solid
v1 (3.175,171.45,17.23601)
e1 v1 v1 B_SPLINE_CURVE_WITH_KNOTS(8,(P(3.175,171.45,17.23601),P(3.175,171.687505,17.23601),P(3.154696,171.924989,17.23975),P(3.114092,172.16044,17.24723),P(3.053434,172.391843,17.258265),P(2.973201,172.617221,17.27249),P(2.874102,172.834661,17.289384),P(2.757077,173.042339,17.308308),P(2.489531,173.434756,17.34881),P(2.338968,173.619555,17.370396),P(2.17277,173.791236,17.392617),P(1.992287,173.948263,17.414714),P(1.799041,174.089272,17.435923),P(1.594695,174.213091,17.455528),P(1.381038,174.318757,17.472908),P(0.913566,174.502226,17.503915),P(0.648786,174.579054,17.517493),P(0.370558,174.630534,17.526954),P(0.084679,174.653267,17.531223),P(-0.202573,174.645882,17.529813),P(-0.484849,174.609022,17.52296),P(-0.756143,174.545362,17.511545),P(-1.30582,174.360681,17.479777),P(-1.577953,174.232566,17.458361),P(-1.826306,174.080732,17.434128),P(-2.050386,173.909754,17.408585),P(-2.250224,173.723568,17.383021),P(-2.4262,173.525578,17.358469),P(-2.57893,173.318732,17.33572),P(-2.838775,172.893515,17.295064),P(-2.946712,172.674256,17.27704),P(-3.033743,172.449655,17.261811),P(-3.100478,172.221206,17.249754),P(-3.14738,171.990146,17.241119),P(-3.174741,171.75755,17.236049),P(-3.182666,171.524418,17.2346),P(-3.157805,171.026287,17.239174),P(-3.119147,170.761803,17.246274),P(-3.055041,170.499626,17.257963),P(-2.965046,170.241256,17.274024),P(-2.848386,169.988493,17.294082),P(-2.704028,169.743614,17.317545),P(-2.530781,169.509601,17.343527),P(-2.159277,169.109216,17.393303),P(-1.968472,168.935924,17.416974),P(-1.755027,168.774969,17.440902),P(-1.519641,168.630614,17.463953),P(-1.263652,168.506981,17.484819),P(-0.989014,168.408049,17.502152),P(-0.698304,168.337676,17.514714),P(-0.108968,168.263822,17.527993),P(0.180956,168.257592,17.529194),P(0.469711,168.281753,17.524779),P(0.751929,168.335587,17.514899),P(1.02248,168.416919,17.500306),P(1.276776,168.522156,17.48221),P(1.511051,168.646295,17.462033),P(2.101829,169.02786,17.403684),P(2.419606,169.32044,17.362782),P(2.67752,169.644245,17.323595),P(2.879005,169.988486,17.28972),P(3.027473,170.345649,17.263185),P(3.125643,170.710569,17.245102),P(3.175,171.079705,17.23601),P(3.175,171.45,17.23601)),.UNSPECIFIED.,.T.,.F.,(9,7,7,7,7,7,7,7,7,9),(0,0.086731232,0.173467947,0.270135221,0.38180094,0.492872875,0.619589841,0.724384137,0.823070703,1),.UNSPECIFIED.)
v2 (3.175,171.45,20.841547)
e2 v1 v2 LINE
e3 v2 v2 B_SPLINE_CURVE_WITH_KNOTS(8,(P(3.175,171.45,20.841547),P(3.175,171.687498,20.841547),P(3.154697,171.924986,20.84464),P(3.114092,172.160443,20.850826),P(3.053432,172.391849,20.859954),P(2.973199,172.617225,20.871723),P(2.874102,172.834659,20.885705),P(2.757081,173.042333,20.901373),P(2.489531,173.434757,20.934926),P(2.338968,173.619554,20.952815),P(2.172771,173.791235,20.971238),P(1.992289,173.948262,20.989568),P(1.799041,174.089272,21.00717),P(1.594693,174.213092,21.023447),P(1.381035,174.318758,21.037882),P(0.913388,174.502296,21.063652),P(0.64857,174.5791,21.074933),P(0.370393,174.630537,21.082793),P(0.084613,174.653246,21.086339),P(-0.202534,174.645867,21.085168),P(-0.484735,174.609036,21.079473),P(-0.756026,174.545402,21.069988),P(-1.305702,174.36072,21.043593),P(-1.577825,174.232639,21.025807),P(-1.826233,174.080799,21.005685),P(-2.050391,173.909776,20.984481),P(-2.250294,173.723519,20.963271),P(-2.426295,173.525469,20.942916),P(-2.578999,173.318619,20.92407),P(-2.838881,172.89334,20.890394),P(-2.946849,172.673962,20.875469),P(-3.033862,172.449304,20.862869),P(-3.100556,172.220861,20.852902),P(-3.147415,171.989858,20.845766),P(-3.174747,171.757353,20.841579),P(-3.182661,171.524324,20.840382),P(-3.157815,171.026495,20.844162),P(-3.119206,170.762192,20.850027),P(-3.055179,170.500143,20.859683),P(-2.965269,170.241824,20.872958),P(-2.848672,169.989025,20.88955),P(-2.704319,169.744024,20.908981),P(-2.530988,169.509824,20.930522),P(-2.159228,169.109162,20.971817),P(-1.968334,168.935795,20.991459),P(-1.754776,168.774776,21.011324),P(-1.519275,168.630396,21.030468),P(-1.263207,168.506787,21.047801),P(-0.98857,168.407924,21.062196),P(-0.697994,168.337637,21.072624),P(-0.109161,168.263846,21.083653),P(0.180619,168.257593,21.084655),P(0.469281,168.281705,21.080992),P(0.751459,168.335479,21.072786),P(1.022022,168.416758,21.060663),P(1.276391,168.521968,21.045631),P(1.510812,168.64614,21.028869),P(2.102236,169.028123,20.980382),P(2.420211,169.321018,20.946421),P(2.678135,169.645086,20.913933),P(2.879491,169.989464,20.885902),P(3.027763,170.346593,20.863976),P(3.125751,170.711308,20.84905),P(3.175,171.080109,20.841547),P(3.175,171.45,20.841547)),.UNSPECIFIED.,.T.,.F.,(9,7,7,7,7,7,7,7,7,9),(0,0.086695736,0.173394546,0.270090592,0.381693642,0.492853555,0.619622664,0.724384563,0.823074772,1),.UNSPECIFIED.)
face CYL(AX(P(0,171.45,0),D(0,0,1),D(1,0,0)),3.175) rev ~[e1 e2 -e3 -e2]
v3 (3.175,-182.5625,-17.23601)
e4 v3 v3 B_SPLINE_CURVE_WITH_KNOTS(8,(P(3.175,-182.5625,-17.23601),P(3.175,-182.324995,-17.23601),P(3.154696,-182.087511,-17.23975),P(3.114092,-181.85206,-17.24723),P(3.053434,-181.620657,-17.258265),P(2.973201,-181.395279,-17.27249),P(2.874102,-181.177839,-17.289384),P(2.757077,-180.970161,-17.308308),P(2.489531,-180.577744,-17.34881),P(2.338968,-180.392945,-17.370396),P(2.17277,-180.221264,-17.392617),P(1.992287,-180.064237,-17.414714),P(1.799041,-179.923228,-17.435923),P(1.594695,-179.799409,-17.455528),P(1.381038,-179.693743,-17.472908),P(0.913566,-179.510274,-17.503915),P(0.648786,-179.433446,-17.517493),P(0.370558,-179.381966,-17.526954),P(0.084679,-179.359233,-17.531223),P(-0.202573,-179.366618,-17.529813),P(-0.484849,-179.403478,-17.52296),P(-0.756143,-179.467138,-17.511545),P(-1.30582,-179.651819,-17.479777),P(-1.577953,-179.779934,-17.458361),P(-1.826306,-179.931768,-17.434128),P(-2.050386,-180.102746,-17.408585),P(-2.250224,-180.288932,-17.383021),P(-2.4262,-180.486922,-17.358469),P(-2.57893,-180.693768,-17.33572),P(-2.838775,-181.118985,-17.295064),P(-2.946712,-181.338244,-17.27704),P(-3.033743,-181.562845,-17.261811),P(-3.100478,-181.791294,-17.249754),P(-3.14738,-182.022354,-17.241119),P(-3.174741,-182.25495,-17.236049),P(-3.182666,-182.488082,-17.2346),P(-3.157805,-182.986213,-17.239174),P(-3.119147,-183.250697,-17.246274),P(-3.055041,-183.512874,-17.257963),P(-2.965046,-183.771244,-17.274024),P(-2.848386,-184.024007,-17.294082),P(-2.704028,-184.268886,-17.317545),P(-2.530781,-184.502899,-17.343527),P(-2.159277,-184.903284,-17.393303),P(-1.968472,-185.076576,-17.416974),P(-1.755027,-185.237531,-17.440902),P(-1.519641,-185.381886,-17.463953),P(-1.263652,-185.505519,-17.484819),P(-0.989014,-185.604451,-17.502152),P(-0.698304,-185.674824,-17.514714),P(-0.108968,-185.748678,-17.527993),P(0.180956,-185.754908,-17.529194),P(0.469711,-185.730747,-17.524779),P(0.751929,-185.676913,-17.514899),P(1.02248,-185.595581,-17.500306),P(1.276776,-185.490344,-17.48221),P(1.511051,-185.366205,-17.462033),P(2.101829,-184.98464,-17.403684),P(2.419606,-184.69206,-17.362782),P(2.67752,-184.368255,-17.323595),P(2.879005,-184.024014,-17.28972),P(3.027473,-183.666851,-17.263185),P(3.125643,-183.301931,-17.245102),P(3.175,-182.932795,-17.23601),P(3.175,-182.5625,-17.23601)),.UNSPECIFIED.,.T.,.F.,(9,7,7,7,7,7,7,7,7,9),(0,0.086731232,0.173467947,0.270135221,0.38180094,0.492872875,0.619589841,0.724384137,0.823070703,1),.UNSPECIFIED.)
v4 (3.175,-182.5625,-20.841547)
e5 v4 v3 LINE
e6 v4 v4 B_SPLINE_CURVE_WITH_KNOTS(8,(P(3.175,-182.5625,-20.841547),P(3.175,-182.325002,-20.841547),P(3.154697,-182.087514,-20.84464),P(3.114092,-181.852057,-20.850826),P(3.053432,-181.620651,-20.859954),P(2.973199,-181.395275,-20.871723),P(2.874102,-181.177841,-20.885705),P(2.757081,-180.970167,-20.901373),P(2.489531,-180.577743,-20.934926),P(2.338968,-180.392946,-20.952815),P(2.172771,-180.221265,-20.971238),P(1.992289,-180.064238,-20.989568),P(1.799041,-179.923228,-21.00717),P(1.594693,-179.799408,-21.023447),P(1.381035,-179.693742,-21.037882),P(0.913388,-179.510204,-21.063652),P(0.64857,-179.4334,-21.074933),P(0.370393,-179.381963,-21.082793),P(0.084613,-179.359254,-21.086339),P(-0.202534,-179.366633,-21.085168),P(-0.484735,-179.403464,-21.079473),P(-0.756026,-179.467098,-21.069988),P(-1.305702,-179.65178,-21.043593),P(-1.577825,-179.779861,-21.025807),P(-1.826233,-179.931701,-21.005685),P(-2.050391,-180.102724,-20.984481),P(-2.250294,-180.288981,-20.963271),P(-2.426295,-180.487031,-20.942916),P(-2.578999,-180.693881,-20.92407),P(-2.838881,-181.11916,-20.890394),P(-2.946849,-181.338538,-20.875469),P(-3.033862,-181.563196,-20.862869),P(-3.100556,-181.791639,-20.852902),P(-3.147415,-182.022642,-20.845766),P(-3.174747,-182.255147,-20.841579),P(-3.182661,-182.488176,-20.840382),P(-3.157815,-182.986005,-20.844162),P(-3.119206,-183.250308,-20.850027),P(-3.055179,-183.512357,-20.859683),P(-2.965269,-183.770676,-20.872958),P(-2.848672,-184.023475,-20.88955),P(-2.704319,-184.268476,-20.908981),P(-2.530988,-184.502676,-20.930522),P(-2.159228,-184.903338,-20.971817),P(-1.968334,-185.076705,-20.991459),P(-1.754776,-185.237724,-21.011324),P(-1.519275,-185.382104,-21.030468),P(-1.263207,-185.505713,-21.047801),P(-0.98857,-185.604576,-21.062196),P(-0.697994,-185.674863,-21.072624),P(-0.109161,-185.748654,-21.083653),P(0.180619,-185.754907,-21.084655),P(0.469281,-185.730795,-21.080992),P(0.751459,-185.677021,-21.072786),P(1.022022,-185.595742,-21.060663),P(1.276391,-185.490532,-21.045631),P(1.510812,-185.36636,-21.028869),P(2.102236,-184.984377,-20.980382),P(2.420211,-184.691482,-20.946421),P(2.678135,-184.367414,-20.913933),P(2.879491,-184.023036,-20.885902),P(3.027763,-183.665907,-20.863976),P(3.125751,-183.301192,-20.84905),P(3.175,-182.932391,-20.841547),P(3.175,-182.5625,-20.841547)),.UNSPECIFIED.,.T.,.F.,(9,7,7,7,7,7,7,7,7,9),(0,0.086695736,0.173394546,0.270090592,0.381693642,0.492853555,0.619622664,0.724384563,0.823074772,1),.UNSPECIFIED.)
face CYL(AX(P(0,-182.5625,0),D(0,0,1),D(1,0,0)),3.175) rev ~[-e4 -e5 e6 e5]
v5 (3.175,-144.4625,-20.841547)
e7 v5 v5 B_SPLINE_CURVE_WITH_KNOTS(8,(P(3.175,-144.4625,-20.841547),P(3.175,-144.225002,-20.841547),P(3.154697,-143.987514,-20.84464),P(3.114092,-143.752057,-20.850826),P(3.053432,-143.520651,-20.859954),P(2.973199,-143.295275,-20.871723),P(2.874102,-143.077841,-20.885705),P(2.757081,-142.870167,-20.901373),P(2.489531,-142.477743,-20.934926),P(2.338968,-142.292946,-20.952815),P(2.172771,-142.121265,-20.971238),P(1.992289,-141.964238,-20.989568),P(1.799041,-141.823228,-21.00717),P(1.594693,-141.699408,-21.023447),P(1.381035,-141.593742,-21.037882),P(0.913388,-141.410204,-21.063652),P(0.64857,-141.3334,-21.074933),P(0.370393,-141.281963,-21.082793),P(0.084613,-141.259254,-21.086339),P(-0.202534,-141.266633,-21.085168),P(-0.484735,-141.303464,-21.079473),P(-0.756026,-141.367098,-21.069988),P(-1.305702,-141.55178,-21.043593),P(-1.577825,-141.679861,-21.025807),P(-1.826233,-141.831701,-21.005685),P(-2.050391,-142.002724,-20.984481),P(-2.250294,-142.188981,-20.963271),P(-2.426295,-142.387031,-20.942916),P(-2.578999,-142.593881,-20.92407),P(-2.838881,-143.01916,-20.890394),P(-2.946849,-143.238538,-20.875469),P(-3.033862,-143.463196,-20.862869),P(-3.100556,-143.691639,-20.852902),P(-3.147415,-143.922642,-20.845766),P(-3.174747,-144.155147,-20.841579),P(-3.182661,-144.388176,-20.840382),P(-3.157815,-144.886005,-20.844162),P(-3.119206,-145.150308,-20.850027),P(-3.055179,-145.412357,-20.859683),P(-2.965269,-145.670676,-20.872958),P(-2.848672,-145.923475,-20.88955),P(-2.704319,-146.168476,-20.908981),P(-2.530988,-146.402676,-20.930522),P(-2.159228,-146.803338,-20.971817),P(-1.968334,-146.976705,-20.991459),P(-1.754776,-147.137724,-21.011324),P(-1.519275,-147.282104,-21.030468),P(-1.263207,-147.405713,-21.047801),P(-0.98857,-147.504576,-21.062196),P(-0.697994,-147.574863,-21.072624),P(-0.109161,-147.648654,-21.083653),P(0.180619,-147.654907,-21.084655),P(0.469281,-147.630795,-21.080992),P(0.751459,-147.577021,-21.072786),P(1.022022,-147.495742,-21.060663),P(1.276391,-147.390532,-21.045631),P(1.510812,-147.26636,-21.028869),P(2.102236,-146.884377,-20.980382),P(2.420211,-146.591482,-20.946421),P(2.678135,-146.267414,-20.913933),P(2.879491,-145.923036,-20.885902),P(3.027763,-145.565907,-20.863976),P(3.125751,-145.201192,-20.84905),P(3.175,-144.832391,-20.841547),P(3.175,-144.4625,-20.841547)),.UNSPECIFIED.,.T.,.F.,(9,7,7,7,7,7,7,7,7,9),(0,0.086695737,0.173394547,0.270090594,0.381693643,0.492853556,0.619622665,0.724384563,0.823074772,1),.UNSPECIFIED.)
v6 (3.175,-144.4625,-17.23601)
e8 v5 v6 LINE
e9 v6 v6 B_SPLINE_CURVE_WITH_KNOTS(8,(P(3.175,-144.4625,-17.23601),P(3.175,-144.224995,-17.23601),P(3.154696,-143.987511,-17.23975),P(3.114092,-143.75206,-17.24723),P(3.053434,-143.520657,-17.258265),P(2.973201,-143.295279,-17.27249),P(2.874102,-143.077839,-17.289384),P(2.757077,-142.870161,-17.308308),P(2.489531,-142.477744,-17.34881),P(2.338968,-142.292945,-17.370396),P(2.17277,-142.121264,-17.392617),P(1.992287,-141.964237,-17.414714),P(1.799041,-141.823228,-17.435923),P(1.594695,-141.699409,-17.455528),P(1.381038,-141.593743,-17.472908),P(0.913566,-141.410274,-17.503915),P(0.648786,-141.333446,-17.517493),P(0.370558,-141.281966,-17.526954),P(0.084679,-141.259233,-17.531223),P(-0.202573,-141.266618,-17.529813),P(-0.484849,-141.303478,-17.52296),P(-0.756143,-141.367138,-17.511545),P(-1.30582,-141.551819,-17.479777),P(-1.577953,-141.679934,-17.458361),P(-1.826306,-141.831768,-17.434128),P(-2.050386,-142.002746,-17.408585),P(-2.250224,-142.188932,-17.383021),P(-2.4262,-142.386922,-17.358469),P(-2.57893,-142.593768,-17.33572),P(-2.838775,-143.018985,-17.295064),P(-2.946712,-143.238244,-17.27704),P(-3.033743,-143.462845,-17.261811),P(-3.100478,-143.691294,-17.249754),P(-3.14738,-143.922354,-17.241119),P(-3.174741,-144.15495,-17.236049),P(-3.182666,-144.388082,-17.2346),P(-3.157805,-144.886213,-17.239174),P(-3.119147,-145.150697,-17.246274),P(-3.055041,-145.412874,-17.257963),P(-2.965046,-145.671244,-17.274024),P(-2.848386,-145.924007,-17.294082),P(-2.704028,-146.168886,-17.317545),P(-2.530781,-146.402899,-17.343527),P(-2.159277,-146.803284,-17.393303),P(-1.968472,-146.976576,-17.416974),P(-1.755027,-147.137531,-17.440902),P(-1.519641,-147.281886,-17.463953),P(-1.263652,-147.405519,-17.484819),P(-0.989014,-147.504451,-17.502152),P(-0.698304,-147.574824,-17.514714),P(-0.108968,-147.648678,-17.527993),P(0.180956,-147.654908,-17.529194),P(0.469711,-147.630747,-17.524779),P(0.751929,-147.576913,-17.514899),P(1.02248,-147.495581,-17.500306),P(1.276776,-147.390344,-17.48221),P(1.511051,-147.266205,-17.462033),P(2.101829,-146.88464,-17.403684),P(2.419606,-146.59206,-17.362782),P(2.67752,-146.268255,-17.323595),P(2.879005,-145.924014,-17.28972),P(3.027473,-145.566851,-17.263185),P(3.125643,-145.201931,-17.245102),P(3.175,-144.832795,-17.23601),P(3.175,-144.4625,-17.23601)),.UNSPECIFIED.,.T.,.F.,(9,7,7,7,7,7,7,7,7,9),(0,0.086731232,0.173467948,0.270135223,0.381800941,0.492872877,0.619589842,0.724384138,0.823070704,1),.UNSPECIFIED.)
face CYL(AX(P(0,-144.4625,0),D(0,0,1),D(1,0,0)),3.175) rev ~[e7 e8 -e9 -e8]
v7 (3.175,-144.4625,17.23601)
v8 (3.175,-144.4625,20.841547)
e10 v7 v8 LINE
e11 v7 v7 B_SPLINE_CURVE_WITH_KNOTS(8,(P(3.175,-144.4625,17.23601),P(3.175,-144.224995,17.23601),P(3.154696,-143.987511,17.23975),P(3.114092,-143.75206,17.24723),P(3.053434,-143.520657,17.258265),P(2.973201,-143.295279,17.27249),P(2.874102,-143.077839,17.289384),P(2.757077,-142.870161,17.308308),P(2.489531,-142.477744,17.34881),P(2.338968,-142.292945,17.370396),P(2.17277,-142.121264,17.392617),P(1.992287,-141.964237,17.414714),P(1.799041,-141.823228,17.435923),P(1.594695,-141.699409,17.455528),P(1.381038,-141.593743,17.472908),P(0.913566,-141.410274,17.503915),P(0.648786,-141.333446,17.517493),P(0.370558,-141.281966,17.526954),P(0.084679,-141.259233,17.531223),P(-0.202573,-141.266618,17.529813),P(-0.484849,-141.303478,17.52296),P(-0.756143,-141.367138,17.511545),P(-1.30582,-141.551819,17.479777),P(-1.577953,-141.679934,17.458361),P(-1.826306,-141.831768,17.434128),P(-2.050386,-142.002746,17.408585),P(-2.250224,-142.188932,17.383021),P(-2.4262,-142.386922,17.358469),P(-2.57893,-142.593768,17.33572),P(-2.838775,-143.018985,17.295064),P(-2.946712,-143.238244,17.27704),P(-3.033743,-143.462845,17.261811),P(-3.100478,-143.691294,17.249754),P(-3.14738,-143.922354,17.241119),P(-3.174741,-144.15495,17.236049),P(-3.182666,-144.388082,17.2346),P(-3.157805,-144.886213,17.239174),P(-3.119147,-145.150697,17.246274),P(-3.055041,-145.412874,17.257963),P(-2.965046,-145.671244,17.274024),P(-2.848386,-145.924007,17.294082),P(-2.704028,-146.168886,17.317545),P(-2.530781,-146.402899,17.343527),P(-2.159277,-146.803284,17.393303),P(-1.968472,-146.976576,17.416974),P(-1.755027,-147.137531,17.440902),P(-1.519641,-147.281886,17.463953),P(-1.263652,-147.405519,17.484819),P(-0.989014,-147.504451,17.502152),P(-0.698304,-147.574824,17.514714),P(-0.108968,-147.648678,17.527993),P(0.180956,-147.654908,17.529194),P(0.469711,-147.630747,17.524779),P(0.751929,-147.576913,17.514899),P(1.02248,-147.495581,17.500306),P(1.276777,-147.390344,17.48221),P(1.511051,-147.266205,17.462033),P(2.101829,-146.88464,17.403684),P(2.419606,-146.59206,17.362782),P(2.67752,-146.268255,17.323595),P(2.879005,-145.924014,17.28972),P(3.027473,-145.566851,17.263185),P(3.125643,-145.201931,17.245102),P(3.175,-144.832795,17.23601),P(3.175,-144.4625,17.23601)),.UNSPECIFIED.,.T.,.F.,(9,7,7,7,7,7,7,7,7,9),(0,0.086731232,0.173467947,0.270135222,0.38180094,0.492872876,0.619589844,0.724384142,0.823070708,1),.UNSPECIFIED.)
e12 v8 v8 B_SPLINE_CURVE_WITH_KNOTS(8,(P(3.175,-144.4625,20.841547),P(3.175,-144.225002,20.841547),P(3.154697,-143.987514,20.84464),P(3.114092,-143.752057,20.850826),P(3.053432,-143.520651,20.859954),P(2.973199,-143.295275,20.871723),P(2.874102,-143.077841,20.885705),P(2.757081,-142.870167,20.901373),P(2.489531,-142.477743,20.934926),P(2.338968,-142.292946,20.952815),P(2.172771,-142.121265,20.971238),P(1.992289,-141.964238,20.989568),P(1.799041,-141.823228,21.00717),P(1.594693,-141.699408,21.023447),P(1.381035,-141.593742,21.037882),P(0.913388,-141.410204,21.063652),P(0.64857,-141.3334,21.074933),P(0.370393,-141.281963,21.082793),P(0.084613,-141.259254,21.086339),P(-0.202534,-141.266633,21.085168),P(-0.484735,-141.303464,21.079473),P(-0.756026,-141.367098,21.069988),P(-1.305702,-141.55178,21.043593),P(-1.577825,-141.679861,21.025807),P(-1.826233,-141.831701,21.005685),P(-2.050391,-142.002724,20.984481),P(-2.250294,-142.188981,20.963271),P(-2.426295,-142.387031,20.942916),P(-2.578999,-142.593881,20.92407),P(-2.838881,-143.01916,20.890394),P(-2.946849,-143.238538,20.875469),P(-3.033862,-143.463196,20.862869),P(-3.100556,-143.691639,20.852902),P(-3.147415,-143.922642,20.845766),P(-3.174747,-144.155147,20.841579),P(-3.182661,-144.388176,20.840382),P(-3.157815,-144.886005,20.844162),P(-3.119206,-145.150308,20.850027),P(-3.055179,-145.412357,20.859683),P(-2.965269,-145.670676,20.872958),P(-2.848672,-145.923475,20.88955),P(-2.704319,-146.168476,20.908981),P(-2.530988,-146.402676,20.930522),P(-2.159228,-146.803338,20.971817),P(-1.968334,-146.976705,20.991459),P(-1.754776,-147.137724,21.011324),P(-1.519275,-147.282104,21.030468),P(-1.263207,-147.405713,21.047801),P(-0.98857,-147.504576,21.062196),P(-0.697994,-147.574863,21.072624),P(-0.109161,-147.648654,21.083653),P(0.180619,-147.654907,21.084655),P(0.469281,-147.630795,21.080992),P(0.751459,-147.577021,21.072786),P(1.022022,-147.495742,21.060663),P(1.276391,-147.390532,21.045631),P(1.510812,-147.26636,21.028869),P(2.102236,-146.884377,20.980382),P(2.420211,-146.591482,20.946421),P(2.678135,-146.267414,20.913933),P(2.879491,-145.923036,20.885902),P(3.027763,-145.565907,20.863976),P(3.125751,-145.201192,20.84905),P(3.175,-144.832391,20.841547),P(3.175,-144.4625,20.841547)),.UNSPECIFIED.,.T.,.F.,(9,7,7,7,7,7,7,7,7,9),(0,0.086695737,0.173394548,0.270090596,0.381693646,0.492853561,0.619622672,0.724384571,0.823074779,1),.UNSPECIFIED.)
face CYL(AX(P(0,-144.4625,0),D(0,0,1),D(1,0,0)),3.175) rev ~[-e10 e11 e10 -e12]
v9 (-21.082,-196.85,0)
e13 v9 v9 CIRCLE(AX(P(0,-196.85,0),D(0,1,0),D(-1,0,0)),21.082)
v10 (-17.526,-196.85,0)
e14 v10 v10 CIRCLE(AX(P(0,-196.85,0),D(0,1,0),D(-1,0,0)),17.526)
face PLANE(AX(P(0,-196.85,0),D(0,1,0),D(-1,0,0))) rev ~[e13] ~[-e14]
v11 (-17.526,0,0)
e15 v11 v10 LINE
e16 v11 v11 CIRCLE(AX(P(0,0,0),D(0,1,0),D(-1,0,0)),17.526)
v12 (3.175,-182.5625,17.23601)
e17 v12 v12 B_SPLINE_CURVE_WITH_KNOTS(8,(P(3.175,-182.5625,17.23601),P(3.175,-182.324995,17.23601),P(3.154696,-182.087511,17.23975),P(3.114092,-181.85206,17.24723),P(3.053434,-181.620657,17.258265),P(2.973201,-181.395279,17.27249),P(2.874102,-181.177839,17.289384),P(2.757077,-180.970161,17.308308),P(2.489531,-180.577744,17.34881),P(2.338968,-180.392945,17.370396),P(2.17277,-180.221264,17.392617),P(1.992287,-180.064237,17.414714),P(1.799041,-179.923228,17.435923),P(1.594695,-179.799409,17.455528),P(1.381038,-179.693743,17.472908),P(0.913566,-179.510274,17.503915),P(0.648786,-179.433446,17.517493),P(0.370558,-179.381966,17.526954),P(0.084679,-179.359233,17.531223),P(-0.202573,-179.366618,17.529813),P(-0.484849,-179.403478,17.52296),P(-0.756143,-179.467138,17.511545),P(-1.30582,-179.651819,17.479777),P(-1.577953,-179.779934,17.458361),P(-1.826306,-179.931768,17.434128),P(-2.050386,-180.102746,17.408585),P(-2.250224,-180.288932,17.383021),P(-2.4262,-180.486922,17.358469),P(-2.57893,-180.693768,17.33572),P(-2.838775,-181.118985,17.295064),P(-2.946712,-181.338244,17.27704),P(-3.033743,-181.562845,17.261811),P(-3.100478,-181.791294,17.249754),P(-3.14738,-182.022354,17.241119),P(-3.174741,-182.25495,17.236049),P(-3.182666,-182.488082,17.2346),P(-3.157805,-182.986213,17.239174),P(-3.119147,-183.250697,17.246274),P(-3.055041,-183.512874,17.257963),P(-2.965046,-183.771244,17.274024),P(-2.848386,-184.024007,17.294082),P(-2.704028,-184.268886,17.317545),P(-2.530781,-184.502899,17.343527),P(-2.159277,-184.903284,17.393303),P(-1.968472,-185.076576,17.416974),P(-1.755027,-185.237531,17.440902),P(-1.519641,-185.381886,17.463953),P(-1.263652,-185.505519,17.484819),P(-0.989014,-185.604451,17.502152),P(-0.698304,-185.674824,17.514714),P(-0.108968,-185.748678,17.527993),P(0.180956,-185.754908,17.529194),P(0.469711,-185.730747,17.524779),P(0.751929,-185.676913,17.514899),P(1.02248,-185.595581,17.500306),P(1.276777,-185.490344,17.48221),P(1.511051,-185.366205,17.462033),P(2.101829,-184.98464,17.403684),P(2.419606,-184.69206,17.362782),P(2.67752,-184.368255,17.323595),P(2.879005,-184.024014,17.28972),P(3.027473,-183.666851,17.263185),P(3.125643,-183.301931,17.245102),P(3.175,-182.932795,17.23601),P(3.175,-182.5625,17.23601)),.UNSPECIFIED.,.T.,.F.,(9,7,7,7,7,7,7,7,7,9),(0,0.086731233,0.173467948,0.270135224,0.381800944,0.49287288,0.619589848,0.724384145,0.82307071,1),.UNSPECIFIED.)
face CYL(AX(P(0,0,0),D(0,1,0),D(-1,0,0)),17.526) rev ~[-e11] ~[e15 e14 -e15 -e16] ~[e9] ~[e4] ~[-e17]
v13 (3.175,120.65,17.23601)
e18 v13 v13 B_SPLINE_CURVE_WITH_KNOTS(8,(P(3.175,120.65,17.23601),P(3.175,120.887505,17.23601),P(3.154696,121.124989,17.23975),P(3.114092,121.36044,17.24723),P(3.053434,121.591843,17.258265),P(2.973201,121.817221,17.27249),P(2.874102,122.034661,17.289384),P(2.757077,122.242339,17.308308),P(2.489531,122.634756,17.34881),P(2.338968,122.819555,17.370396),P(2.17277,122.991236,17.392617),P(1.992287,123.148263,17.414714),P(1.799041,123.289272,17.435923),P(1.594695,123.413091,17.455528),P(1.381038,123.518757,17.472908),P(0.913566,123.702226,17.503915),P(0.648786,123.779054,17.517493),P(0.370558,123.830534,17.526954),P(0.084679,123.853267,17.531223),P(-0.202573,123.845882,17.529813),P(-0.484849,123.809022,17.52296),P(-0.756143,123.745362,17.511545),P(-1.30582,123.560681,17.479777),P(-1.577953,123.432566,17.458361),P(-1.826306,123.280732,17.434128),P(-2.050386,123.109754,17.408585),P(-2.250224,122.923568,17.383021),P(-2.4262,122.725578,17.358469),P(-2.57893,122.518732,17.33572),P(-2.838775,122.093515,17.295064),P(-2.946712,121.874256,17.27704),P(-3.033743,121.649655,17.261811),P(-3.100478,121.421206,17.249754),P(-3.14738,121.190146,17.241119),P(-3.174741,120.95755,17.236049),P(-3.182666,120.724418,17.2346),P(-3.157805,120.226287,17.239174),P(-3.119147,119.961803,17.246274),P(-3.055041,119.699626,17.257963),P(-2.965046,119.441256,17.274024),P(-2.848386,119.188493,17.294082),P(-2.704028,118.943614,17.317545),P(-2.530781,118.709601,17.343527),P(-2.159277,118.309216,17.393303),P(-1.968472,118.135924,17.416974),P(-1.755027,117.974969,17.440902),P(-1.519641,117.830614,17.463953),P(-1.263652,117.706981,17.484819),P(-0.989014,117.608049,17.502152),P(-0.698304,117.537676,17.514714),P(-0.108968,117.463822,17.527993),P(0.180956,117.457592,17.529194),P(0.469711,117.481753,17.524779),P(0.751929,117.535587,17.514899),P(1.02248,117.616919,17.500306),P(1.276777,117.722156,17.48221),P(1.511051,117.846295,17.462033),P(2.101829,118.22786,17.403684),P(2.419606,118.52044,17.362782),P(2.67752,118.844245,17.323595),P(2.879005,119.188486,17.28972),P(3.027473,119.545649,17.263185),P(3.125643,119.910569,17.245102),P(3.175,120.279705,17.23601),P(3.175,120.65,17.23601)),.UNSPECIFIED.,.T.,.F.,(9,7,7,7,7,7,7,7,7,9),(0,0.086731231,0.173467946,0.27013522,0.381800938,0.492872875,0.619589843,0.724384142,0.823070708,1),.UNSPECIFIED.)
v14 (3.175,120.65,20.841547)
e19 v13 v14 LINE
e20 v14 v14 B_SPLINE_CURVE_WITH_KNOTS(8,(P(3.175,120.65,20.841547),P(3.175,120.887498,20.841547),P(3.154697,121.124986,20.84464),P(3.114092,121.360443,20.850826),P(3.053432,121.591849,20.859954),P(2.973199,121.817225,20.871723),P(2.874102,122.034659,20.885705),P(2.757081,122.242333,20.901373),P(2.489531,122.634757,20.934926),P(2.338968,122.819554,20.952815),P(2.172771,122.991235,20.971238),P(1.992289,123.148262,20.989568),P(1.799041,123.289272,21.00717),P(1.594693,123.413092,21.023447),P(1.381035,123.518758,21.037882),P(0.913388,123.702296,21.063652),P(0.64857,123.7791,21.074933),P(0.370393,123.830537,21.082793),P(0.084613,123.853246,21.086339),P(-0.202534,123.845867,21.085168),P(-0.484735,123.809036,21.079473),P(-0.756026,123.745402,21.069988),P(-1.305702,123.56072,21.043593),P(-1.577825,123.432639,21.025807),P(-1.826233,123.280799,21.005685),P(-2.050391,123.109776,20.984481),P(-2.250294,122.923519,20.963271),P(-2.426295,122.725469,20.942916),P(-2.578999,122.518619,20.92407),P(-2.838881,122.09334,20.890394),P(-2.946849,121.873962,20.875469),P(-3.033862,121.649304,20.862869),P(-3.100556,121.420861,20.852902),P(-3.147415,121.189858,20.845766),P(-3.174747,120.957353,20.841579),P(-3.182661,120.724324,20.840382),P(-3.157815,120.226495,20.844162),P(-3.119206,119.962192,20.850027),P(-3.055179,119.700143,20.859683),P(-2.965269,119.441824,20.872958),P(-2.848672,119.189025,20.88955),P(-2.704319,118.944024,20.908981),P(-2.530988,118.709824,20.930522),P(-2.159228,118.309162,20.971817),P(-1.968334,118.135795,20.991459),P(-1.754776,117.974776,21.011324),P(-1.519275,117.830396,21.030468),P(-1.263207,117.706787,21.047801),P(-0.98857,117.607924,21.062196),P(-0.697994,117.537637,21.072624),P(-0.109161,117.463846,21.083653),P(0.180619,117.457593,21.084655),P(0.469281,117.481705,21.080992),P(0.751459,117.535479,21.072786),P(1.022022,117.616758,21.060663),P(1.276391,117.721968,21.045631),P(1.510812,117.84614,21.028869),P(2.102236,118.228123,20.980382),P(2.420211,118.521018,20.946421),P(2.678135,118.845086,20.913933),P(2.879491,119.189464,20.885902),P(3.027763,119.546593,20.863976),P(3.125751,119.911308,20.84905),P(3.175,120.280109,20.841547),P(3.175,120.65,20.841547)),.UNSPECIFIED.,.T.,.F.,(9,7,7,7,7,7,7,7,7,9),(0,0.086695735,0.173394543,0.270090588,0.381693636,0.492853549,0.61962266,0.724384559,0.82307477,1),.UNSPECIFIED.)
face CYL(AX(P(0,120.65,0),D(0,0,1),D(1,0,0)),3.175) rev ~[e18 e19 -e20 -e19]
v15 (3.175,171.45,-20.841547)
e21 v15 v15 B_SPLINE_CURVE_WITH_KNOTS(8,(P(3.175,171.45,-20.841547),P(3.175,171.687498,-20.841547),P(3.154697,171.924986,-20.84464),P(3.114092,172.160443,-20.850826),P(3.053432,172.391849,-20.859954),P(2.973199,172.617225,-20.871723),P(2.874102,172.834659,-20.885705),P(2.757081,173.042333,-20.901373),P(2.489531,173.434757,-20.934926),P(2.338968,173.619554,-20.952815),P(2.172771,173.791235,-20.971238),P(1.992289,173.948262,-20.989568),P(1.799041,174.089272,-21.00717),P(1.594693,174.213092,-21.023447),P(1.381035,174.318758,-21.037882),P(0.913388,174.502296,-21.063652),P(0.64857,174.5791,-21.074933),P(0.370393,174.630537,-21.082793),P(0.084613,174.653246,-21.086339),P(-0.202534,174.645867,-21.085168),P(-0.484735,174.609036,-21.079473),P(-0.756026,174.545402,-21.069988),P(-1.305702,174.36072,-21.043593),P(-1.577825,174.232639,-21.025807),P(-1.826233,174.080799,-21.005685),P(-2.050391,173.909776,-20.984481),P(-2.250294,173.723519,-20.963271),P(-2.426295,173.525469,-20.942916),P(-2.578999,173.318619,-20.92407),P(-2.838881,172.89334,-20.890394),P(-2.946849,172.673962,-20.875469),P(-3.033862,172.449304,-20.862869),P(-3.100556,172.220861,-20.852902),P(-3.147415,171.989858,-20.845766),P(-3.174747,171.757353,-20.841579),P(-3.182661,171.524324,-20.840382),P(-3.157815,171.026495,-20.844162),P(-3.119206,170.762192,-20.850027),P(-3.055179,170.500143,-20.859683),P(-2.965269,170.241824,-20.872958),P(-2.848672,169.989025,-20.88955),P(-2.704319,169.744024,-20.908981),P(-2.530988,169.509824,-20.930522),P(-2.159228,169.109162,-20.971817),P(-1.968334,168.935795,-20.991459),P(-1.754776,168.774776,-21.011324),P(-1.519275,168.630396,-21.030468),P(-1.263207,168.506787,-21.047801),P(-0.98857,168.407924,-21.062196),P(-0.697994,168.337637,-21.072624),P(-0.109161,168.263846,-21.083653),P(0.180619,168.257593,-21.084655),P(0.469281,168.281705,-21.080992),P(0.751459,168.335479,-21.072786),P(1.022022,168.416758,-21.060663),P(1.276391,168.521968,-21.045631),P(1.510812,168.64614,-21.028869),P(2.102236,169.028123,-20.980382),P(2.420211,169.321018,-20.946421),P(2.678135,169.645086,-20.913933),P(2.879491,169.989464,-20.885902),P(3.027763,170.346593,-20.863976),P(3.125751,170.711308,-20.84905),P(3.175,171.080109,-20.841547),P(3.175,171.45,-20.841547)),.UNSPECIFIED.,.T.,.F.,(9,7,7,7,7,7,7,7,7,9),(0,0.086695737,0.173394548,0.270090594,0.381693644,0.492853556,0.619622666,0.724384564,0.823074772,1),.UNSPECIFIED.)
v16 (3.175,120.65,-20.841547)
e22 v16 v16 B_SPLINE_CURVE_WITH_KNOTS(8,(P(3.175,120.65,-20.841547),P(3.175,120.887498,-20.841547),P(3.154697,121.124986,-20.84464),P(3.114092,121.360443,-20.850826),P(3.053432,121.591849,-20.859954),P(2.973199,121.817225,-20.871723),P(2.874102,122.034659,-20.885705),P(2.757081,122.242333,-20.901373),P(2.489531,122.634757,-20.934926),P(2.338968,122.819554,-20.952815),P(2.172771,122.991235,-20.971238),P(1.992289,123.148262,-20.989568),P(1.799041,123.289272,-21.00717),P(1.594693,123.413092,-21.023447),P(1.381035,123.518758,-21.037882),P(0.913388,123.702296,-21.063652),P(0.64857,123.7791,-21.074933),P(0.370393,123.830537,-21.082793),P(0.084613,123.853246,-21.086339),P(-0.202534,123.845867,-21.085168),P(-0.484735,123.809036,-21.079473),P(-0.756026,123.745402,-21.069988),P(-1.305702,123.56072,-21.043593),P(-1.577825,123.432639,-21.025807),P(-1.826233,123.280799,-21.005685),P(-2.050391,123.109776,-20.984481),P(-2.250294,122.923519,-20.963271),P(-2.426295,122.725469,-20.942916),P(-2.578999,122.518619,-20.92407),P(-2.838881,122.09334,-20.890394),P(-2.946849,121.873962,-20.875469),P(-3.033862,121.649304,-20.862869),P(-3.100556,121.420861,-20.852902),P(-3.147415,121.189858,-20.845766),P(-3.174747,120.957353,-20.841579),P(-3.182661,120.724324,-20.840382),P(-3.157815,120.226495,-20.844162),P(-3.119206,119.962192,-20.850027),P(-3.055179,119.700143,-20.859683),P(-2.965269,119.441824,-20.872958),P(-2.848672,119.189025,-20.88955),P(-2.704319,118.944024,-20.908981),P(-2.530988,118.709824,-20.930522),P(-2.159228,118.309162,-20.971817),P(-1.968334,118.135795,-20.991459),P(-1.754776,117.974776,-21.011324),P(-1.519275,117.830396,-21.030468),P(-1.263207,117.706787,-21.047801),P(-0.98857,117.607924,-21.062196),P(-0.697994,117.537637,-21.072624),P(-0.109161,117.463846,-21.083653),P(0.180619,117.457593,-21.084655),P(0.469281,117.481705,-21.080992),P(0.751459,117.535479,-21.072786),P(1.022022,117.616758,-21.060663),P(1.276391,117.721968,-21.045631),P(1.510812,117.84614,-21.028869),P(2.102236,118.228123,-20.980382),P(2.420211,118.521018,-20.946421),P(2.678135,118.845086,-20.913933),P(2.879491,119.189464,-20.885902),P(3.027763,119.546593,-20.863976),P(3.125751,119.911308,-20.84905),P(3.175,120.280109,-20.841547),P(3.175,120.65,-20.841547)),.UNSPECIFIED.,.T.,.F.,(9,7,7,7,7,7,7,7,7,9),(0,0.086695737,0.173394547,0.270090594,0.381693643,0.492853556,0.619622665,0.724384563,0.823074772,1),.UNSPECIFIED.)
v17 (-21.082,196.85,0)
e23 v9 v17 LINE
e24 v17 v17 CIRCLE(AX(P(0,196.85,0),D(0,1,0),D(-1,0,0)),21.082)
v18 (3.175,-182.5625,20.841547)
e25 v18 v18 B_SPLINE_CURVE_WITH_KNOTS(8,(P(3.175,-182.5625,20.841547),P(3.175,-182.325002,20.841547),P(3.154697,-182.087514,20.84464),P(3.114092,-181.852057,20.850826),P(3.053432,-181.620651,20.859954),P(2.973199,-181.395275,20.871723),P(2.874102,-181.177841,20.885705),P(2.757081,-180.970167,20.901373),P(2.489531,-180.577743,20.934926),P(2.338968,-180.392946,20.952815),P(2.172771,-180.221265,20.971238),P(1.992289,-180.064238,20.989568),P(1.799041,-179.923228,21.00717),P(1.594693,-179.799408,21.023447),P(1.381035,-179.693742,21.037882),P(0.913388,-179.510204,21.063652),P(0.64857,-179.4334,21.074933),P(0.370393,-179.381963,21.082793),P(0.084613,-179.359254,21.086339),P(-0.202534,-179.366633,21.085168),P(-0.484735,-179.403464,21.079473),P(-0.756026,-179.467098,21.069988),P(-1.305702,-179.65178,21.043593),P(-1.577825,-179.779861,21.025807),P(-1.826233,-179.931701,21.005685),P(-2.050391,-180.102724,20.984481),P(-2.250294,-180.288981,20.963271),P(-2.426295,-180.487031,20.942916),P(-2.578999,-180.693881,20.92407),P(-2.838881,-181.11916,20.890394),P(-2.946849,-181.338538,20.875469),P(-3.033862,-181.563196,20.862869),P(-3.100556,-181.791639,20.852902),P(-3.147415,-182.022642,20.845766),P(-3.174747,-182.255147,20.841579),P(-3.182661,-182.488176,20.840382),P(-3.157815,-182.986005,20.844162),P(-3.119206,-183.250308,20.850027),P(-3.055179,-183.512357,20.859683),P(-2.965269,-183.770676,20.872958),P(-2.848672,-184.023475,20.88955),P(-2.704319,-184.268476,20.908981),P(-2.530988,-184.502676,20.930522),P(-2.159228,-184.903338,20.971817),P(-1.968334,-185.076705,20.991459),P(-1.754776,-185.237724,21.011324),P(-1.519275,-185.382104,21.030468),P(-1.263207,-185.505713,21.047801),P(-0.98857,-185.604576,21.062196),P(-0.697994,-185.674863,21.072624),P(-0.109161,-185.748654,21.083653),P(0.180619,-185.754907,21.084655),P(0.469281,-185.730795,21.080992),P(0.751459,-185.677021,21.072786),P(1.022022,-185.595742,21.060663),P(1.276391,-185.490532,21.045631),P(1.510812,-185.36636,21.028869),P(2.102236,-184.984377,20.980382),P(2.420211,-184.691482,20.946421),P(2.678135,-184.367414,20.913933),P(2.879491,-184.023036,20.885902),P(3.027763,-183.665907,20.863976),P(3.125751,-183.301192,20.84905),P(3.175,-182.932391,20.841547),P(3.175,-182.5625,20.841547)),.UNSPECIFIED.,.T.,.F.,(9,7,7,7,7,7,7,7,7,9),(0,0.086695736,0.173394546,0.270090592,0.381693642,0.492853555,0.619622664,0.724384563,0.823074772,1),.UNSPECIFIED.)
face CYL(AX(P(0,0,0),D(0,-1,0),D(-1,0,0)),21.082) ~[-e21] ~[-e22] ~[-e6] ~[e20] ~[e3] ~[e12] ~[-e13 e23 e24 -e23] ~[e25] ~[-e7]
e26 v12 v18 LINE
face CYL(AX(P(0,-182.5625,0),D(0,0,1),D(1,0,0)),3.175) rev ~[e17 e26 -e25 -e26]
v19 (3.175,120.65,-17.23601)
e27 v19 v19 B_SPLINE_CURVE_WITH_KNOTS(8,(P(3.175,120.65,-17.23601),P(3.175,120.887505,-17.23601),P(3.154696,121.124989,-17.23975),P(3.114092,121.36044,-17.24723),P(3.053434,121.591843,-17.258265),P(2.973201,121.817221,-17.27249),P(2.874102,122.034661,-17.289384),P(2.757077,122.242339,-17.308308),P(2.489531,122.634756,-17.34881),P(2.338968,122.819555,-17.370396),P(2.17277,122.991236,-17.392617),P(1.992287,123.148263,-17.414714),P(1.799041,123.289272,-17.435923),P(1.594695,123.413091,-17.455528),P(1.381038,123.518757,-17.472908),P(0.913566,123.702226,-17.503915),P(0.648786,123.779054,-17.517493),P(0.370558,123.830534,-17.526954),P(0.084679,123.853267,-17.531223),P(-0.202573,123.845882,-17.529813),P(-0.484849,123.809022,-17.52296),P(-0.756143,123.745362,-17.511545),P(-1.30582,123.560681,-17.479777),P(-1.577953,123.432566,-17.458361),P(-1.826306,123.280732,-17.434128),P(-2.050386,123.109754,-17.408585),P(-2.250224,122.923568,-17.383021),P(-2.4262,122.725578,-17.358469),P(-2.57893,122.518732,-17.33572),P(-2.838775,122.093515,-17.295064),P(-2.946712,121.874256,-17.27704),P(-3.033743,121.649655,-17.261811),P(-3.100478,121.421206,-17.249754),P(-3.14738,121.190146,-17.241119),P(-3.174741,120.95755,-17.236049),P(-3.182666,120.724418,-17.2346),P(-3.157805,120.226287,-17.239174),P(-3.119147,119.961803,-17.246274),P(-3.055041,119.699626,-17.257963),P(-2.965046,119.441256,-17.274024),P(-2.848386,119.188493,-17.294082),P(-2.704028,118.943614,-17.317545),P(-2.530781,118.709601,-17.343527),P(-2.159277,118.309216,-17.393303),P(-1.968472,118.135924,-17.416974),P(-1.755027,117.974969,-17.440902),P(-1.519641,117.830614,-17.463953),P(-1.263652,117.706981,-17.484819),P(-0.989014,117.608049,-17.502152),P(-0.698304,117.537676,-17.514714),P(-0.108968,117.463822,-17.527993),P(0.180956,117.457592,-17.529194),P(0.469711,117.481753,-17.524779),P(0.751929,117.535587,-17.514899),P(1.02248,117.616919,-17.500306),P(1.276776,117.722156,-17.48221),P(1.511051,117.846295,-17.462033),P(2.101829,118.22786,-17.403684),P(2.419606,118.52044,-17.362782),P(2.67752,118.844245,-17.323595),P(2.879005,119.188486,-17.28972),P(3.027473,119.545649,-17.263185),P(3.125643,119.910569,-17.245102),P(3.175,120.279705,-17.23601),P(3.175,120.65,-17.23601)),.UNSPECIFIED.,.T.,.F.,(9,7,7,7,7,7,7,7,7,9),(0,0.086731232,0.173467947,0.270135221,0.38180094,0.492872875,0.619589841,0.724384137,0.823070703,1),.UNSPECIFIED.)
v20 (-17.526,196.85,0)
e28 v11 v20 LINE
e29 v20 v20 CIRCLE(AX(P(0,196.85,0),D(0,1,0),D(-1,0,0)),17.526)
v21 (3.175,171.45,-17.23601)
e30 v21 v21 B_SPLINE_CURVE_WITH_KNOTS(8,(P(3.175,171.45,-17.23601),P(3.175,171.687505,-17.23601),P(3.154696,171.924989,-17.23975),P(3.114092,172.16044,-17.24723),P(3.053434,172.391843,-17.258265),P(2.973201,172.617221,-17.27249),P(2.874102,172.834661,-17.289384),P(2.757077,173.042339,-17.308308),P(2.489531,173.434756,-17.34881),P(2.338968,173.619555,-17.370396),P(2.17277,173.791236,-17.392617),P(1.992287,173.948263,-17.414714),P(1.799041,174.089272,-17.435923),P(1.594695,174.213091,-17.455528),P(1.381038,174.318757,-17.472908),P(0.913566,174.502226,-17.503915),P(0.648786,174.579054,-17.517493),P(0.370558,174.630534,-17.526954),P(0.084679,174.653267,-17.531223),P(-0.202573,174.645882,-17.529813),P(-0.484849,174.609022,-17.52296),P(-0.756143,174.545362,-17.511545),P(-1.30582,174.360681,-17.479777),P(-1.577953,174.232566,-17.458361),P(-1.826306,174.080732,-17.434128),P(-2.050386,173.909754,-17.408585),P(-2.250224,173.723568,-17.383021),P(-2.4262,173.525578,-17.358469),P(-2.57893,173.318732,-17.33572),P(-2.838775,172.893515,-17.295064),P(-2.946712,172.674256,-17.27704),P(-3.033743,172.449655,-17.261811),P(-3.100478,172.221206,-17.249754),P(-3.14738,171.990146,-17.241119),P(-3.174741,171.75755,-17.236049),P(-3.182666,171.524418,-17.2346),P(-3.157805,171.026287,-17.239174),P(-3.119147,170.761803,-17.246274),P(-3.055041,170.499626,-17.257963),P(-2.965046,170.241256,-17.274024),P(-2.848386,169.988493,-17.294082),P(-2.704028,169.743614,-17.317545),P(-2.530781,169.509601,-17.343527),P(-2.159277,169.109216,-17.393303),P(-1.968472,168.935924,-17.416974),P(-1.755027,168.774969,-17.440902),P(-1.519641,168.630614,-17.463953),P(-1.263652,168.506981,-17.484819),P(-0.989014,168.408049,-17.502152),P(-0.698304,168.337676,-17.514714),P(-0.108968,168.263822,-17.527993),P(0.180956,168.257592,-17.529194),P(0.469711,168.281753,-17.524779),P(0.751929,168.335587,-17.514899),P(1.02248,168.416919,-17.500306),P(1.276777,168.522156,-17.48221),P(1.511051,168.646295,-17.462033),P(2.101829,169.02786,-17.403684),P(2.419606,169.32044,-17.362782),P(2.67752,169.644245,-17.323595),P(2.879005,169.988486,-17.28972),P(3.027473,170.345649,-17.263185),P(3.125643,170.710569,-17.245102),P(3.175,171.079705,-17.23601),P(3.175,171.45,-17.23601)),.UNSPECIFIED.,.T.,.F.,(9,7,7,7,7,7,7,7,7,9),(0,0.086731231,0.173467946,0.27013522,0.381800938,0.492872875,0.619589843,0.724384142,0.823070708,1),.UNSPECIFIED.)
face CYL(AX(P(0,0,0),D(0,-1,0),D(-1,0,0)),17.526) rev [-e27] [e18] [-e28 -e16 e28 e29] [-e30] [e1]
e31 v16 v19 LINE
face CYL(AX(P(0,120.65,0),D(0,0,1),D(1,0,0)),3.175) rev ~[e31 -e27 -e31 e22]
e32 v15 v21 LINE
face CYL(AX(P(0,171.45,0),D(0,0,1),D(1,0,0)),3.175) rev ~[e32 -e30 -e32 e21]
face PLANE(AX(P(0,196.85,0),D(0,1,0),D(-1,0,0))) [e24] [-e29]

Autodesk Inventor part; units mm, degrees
ref_plane "YZ Plane" through (0, 0, 0) normal (1, 0, 0) x (0, 1, 0)
ref_plane "XZ Plane" through (0, 0, 0) normal (0, 1, 0) x (-1, 0, 0)
ref_plane "XY Plane" through (0, 0, 0) normal (0, 0, 1) x (1, 0, 0)
sketch "Sketch1" plane through (0, 0, 0) normal (0, 1, 0) x (-1, 0, 0)
  circle A0 centre (0, 0) radius 21.082
  circle A1 centre (0, 0) radius 17.526
  dimension "d0" = 42.164
  dimension "d1" = 35.052
extrude "Extrusion1" add sketch "Sketch1" along normal mid plane 393.7
sketch "Sketch3" plane through (0, 0, 0) normal (0, 0, 1) x (1, 0, 0)
  circle A0 centre (0, 171.45) radius 3.175
  circle A1 centre (0, 120.65) radius 3.175
  line L0 (21.082, 196.85) -> (-21.082, 196.85) projected
  circle A2 centre (0, -182.5625) radius 3.175
  circle A3 centre (0, -144.4625) radius 3.175
  line L1 (-21.082, -196.85) -> (21.082, -196.85) projected
  point P0 (0, 0)
  dimension "d10" = 25.4
  dimension "d11" = 76.2
  dimension "d12" = 6.35
  dimension "d15" = 38.1
  dimension "d16" = 14.2875
extrude "Extrusion3" cut sketch "Sketch3" against normal through all both and the other way through all
properties part number "FE-120-002 Top Connector Bar" material "Aluminum 6061"
